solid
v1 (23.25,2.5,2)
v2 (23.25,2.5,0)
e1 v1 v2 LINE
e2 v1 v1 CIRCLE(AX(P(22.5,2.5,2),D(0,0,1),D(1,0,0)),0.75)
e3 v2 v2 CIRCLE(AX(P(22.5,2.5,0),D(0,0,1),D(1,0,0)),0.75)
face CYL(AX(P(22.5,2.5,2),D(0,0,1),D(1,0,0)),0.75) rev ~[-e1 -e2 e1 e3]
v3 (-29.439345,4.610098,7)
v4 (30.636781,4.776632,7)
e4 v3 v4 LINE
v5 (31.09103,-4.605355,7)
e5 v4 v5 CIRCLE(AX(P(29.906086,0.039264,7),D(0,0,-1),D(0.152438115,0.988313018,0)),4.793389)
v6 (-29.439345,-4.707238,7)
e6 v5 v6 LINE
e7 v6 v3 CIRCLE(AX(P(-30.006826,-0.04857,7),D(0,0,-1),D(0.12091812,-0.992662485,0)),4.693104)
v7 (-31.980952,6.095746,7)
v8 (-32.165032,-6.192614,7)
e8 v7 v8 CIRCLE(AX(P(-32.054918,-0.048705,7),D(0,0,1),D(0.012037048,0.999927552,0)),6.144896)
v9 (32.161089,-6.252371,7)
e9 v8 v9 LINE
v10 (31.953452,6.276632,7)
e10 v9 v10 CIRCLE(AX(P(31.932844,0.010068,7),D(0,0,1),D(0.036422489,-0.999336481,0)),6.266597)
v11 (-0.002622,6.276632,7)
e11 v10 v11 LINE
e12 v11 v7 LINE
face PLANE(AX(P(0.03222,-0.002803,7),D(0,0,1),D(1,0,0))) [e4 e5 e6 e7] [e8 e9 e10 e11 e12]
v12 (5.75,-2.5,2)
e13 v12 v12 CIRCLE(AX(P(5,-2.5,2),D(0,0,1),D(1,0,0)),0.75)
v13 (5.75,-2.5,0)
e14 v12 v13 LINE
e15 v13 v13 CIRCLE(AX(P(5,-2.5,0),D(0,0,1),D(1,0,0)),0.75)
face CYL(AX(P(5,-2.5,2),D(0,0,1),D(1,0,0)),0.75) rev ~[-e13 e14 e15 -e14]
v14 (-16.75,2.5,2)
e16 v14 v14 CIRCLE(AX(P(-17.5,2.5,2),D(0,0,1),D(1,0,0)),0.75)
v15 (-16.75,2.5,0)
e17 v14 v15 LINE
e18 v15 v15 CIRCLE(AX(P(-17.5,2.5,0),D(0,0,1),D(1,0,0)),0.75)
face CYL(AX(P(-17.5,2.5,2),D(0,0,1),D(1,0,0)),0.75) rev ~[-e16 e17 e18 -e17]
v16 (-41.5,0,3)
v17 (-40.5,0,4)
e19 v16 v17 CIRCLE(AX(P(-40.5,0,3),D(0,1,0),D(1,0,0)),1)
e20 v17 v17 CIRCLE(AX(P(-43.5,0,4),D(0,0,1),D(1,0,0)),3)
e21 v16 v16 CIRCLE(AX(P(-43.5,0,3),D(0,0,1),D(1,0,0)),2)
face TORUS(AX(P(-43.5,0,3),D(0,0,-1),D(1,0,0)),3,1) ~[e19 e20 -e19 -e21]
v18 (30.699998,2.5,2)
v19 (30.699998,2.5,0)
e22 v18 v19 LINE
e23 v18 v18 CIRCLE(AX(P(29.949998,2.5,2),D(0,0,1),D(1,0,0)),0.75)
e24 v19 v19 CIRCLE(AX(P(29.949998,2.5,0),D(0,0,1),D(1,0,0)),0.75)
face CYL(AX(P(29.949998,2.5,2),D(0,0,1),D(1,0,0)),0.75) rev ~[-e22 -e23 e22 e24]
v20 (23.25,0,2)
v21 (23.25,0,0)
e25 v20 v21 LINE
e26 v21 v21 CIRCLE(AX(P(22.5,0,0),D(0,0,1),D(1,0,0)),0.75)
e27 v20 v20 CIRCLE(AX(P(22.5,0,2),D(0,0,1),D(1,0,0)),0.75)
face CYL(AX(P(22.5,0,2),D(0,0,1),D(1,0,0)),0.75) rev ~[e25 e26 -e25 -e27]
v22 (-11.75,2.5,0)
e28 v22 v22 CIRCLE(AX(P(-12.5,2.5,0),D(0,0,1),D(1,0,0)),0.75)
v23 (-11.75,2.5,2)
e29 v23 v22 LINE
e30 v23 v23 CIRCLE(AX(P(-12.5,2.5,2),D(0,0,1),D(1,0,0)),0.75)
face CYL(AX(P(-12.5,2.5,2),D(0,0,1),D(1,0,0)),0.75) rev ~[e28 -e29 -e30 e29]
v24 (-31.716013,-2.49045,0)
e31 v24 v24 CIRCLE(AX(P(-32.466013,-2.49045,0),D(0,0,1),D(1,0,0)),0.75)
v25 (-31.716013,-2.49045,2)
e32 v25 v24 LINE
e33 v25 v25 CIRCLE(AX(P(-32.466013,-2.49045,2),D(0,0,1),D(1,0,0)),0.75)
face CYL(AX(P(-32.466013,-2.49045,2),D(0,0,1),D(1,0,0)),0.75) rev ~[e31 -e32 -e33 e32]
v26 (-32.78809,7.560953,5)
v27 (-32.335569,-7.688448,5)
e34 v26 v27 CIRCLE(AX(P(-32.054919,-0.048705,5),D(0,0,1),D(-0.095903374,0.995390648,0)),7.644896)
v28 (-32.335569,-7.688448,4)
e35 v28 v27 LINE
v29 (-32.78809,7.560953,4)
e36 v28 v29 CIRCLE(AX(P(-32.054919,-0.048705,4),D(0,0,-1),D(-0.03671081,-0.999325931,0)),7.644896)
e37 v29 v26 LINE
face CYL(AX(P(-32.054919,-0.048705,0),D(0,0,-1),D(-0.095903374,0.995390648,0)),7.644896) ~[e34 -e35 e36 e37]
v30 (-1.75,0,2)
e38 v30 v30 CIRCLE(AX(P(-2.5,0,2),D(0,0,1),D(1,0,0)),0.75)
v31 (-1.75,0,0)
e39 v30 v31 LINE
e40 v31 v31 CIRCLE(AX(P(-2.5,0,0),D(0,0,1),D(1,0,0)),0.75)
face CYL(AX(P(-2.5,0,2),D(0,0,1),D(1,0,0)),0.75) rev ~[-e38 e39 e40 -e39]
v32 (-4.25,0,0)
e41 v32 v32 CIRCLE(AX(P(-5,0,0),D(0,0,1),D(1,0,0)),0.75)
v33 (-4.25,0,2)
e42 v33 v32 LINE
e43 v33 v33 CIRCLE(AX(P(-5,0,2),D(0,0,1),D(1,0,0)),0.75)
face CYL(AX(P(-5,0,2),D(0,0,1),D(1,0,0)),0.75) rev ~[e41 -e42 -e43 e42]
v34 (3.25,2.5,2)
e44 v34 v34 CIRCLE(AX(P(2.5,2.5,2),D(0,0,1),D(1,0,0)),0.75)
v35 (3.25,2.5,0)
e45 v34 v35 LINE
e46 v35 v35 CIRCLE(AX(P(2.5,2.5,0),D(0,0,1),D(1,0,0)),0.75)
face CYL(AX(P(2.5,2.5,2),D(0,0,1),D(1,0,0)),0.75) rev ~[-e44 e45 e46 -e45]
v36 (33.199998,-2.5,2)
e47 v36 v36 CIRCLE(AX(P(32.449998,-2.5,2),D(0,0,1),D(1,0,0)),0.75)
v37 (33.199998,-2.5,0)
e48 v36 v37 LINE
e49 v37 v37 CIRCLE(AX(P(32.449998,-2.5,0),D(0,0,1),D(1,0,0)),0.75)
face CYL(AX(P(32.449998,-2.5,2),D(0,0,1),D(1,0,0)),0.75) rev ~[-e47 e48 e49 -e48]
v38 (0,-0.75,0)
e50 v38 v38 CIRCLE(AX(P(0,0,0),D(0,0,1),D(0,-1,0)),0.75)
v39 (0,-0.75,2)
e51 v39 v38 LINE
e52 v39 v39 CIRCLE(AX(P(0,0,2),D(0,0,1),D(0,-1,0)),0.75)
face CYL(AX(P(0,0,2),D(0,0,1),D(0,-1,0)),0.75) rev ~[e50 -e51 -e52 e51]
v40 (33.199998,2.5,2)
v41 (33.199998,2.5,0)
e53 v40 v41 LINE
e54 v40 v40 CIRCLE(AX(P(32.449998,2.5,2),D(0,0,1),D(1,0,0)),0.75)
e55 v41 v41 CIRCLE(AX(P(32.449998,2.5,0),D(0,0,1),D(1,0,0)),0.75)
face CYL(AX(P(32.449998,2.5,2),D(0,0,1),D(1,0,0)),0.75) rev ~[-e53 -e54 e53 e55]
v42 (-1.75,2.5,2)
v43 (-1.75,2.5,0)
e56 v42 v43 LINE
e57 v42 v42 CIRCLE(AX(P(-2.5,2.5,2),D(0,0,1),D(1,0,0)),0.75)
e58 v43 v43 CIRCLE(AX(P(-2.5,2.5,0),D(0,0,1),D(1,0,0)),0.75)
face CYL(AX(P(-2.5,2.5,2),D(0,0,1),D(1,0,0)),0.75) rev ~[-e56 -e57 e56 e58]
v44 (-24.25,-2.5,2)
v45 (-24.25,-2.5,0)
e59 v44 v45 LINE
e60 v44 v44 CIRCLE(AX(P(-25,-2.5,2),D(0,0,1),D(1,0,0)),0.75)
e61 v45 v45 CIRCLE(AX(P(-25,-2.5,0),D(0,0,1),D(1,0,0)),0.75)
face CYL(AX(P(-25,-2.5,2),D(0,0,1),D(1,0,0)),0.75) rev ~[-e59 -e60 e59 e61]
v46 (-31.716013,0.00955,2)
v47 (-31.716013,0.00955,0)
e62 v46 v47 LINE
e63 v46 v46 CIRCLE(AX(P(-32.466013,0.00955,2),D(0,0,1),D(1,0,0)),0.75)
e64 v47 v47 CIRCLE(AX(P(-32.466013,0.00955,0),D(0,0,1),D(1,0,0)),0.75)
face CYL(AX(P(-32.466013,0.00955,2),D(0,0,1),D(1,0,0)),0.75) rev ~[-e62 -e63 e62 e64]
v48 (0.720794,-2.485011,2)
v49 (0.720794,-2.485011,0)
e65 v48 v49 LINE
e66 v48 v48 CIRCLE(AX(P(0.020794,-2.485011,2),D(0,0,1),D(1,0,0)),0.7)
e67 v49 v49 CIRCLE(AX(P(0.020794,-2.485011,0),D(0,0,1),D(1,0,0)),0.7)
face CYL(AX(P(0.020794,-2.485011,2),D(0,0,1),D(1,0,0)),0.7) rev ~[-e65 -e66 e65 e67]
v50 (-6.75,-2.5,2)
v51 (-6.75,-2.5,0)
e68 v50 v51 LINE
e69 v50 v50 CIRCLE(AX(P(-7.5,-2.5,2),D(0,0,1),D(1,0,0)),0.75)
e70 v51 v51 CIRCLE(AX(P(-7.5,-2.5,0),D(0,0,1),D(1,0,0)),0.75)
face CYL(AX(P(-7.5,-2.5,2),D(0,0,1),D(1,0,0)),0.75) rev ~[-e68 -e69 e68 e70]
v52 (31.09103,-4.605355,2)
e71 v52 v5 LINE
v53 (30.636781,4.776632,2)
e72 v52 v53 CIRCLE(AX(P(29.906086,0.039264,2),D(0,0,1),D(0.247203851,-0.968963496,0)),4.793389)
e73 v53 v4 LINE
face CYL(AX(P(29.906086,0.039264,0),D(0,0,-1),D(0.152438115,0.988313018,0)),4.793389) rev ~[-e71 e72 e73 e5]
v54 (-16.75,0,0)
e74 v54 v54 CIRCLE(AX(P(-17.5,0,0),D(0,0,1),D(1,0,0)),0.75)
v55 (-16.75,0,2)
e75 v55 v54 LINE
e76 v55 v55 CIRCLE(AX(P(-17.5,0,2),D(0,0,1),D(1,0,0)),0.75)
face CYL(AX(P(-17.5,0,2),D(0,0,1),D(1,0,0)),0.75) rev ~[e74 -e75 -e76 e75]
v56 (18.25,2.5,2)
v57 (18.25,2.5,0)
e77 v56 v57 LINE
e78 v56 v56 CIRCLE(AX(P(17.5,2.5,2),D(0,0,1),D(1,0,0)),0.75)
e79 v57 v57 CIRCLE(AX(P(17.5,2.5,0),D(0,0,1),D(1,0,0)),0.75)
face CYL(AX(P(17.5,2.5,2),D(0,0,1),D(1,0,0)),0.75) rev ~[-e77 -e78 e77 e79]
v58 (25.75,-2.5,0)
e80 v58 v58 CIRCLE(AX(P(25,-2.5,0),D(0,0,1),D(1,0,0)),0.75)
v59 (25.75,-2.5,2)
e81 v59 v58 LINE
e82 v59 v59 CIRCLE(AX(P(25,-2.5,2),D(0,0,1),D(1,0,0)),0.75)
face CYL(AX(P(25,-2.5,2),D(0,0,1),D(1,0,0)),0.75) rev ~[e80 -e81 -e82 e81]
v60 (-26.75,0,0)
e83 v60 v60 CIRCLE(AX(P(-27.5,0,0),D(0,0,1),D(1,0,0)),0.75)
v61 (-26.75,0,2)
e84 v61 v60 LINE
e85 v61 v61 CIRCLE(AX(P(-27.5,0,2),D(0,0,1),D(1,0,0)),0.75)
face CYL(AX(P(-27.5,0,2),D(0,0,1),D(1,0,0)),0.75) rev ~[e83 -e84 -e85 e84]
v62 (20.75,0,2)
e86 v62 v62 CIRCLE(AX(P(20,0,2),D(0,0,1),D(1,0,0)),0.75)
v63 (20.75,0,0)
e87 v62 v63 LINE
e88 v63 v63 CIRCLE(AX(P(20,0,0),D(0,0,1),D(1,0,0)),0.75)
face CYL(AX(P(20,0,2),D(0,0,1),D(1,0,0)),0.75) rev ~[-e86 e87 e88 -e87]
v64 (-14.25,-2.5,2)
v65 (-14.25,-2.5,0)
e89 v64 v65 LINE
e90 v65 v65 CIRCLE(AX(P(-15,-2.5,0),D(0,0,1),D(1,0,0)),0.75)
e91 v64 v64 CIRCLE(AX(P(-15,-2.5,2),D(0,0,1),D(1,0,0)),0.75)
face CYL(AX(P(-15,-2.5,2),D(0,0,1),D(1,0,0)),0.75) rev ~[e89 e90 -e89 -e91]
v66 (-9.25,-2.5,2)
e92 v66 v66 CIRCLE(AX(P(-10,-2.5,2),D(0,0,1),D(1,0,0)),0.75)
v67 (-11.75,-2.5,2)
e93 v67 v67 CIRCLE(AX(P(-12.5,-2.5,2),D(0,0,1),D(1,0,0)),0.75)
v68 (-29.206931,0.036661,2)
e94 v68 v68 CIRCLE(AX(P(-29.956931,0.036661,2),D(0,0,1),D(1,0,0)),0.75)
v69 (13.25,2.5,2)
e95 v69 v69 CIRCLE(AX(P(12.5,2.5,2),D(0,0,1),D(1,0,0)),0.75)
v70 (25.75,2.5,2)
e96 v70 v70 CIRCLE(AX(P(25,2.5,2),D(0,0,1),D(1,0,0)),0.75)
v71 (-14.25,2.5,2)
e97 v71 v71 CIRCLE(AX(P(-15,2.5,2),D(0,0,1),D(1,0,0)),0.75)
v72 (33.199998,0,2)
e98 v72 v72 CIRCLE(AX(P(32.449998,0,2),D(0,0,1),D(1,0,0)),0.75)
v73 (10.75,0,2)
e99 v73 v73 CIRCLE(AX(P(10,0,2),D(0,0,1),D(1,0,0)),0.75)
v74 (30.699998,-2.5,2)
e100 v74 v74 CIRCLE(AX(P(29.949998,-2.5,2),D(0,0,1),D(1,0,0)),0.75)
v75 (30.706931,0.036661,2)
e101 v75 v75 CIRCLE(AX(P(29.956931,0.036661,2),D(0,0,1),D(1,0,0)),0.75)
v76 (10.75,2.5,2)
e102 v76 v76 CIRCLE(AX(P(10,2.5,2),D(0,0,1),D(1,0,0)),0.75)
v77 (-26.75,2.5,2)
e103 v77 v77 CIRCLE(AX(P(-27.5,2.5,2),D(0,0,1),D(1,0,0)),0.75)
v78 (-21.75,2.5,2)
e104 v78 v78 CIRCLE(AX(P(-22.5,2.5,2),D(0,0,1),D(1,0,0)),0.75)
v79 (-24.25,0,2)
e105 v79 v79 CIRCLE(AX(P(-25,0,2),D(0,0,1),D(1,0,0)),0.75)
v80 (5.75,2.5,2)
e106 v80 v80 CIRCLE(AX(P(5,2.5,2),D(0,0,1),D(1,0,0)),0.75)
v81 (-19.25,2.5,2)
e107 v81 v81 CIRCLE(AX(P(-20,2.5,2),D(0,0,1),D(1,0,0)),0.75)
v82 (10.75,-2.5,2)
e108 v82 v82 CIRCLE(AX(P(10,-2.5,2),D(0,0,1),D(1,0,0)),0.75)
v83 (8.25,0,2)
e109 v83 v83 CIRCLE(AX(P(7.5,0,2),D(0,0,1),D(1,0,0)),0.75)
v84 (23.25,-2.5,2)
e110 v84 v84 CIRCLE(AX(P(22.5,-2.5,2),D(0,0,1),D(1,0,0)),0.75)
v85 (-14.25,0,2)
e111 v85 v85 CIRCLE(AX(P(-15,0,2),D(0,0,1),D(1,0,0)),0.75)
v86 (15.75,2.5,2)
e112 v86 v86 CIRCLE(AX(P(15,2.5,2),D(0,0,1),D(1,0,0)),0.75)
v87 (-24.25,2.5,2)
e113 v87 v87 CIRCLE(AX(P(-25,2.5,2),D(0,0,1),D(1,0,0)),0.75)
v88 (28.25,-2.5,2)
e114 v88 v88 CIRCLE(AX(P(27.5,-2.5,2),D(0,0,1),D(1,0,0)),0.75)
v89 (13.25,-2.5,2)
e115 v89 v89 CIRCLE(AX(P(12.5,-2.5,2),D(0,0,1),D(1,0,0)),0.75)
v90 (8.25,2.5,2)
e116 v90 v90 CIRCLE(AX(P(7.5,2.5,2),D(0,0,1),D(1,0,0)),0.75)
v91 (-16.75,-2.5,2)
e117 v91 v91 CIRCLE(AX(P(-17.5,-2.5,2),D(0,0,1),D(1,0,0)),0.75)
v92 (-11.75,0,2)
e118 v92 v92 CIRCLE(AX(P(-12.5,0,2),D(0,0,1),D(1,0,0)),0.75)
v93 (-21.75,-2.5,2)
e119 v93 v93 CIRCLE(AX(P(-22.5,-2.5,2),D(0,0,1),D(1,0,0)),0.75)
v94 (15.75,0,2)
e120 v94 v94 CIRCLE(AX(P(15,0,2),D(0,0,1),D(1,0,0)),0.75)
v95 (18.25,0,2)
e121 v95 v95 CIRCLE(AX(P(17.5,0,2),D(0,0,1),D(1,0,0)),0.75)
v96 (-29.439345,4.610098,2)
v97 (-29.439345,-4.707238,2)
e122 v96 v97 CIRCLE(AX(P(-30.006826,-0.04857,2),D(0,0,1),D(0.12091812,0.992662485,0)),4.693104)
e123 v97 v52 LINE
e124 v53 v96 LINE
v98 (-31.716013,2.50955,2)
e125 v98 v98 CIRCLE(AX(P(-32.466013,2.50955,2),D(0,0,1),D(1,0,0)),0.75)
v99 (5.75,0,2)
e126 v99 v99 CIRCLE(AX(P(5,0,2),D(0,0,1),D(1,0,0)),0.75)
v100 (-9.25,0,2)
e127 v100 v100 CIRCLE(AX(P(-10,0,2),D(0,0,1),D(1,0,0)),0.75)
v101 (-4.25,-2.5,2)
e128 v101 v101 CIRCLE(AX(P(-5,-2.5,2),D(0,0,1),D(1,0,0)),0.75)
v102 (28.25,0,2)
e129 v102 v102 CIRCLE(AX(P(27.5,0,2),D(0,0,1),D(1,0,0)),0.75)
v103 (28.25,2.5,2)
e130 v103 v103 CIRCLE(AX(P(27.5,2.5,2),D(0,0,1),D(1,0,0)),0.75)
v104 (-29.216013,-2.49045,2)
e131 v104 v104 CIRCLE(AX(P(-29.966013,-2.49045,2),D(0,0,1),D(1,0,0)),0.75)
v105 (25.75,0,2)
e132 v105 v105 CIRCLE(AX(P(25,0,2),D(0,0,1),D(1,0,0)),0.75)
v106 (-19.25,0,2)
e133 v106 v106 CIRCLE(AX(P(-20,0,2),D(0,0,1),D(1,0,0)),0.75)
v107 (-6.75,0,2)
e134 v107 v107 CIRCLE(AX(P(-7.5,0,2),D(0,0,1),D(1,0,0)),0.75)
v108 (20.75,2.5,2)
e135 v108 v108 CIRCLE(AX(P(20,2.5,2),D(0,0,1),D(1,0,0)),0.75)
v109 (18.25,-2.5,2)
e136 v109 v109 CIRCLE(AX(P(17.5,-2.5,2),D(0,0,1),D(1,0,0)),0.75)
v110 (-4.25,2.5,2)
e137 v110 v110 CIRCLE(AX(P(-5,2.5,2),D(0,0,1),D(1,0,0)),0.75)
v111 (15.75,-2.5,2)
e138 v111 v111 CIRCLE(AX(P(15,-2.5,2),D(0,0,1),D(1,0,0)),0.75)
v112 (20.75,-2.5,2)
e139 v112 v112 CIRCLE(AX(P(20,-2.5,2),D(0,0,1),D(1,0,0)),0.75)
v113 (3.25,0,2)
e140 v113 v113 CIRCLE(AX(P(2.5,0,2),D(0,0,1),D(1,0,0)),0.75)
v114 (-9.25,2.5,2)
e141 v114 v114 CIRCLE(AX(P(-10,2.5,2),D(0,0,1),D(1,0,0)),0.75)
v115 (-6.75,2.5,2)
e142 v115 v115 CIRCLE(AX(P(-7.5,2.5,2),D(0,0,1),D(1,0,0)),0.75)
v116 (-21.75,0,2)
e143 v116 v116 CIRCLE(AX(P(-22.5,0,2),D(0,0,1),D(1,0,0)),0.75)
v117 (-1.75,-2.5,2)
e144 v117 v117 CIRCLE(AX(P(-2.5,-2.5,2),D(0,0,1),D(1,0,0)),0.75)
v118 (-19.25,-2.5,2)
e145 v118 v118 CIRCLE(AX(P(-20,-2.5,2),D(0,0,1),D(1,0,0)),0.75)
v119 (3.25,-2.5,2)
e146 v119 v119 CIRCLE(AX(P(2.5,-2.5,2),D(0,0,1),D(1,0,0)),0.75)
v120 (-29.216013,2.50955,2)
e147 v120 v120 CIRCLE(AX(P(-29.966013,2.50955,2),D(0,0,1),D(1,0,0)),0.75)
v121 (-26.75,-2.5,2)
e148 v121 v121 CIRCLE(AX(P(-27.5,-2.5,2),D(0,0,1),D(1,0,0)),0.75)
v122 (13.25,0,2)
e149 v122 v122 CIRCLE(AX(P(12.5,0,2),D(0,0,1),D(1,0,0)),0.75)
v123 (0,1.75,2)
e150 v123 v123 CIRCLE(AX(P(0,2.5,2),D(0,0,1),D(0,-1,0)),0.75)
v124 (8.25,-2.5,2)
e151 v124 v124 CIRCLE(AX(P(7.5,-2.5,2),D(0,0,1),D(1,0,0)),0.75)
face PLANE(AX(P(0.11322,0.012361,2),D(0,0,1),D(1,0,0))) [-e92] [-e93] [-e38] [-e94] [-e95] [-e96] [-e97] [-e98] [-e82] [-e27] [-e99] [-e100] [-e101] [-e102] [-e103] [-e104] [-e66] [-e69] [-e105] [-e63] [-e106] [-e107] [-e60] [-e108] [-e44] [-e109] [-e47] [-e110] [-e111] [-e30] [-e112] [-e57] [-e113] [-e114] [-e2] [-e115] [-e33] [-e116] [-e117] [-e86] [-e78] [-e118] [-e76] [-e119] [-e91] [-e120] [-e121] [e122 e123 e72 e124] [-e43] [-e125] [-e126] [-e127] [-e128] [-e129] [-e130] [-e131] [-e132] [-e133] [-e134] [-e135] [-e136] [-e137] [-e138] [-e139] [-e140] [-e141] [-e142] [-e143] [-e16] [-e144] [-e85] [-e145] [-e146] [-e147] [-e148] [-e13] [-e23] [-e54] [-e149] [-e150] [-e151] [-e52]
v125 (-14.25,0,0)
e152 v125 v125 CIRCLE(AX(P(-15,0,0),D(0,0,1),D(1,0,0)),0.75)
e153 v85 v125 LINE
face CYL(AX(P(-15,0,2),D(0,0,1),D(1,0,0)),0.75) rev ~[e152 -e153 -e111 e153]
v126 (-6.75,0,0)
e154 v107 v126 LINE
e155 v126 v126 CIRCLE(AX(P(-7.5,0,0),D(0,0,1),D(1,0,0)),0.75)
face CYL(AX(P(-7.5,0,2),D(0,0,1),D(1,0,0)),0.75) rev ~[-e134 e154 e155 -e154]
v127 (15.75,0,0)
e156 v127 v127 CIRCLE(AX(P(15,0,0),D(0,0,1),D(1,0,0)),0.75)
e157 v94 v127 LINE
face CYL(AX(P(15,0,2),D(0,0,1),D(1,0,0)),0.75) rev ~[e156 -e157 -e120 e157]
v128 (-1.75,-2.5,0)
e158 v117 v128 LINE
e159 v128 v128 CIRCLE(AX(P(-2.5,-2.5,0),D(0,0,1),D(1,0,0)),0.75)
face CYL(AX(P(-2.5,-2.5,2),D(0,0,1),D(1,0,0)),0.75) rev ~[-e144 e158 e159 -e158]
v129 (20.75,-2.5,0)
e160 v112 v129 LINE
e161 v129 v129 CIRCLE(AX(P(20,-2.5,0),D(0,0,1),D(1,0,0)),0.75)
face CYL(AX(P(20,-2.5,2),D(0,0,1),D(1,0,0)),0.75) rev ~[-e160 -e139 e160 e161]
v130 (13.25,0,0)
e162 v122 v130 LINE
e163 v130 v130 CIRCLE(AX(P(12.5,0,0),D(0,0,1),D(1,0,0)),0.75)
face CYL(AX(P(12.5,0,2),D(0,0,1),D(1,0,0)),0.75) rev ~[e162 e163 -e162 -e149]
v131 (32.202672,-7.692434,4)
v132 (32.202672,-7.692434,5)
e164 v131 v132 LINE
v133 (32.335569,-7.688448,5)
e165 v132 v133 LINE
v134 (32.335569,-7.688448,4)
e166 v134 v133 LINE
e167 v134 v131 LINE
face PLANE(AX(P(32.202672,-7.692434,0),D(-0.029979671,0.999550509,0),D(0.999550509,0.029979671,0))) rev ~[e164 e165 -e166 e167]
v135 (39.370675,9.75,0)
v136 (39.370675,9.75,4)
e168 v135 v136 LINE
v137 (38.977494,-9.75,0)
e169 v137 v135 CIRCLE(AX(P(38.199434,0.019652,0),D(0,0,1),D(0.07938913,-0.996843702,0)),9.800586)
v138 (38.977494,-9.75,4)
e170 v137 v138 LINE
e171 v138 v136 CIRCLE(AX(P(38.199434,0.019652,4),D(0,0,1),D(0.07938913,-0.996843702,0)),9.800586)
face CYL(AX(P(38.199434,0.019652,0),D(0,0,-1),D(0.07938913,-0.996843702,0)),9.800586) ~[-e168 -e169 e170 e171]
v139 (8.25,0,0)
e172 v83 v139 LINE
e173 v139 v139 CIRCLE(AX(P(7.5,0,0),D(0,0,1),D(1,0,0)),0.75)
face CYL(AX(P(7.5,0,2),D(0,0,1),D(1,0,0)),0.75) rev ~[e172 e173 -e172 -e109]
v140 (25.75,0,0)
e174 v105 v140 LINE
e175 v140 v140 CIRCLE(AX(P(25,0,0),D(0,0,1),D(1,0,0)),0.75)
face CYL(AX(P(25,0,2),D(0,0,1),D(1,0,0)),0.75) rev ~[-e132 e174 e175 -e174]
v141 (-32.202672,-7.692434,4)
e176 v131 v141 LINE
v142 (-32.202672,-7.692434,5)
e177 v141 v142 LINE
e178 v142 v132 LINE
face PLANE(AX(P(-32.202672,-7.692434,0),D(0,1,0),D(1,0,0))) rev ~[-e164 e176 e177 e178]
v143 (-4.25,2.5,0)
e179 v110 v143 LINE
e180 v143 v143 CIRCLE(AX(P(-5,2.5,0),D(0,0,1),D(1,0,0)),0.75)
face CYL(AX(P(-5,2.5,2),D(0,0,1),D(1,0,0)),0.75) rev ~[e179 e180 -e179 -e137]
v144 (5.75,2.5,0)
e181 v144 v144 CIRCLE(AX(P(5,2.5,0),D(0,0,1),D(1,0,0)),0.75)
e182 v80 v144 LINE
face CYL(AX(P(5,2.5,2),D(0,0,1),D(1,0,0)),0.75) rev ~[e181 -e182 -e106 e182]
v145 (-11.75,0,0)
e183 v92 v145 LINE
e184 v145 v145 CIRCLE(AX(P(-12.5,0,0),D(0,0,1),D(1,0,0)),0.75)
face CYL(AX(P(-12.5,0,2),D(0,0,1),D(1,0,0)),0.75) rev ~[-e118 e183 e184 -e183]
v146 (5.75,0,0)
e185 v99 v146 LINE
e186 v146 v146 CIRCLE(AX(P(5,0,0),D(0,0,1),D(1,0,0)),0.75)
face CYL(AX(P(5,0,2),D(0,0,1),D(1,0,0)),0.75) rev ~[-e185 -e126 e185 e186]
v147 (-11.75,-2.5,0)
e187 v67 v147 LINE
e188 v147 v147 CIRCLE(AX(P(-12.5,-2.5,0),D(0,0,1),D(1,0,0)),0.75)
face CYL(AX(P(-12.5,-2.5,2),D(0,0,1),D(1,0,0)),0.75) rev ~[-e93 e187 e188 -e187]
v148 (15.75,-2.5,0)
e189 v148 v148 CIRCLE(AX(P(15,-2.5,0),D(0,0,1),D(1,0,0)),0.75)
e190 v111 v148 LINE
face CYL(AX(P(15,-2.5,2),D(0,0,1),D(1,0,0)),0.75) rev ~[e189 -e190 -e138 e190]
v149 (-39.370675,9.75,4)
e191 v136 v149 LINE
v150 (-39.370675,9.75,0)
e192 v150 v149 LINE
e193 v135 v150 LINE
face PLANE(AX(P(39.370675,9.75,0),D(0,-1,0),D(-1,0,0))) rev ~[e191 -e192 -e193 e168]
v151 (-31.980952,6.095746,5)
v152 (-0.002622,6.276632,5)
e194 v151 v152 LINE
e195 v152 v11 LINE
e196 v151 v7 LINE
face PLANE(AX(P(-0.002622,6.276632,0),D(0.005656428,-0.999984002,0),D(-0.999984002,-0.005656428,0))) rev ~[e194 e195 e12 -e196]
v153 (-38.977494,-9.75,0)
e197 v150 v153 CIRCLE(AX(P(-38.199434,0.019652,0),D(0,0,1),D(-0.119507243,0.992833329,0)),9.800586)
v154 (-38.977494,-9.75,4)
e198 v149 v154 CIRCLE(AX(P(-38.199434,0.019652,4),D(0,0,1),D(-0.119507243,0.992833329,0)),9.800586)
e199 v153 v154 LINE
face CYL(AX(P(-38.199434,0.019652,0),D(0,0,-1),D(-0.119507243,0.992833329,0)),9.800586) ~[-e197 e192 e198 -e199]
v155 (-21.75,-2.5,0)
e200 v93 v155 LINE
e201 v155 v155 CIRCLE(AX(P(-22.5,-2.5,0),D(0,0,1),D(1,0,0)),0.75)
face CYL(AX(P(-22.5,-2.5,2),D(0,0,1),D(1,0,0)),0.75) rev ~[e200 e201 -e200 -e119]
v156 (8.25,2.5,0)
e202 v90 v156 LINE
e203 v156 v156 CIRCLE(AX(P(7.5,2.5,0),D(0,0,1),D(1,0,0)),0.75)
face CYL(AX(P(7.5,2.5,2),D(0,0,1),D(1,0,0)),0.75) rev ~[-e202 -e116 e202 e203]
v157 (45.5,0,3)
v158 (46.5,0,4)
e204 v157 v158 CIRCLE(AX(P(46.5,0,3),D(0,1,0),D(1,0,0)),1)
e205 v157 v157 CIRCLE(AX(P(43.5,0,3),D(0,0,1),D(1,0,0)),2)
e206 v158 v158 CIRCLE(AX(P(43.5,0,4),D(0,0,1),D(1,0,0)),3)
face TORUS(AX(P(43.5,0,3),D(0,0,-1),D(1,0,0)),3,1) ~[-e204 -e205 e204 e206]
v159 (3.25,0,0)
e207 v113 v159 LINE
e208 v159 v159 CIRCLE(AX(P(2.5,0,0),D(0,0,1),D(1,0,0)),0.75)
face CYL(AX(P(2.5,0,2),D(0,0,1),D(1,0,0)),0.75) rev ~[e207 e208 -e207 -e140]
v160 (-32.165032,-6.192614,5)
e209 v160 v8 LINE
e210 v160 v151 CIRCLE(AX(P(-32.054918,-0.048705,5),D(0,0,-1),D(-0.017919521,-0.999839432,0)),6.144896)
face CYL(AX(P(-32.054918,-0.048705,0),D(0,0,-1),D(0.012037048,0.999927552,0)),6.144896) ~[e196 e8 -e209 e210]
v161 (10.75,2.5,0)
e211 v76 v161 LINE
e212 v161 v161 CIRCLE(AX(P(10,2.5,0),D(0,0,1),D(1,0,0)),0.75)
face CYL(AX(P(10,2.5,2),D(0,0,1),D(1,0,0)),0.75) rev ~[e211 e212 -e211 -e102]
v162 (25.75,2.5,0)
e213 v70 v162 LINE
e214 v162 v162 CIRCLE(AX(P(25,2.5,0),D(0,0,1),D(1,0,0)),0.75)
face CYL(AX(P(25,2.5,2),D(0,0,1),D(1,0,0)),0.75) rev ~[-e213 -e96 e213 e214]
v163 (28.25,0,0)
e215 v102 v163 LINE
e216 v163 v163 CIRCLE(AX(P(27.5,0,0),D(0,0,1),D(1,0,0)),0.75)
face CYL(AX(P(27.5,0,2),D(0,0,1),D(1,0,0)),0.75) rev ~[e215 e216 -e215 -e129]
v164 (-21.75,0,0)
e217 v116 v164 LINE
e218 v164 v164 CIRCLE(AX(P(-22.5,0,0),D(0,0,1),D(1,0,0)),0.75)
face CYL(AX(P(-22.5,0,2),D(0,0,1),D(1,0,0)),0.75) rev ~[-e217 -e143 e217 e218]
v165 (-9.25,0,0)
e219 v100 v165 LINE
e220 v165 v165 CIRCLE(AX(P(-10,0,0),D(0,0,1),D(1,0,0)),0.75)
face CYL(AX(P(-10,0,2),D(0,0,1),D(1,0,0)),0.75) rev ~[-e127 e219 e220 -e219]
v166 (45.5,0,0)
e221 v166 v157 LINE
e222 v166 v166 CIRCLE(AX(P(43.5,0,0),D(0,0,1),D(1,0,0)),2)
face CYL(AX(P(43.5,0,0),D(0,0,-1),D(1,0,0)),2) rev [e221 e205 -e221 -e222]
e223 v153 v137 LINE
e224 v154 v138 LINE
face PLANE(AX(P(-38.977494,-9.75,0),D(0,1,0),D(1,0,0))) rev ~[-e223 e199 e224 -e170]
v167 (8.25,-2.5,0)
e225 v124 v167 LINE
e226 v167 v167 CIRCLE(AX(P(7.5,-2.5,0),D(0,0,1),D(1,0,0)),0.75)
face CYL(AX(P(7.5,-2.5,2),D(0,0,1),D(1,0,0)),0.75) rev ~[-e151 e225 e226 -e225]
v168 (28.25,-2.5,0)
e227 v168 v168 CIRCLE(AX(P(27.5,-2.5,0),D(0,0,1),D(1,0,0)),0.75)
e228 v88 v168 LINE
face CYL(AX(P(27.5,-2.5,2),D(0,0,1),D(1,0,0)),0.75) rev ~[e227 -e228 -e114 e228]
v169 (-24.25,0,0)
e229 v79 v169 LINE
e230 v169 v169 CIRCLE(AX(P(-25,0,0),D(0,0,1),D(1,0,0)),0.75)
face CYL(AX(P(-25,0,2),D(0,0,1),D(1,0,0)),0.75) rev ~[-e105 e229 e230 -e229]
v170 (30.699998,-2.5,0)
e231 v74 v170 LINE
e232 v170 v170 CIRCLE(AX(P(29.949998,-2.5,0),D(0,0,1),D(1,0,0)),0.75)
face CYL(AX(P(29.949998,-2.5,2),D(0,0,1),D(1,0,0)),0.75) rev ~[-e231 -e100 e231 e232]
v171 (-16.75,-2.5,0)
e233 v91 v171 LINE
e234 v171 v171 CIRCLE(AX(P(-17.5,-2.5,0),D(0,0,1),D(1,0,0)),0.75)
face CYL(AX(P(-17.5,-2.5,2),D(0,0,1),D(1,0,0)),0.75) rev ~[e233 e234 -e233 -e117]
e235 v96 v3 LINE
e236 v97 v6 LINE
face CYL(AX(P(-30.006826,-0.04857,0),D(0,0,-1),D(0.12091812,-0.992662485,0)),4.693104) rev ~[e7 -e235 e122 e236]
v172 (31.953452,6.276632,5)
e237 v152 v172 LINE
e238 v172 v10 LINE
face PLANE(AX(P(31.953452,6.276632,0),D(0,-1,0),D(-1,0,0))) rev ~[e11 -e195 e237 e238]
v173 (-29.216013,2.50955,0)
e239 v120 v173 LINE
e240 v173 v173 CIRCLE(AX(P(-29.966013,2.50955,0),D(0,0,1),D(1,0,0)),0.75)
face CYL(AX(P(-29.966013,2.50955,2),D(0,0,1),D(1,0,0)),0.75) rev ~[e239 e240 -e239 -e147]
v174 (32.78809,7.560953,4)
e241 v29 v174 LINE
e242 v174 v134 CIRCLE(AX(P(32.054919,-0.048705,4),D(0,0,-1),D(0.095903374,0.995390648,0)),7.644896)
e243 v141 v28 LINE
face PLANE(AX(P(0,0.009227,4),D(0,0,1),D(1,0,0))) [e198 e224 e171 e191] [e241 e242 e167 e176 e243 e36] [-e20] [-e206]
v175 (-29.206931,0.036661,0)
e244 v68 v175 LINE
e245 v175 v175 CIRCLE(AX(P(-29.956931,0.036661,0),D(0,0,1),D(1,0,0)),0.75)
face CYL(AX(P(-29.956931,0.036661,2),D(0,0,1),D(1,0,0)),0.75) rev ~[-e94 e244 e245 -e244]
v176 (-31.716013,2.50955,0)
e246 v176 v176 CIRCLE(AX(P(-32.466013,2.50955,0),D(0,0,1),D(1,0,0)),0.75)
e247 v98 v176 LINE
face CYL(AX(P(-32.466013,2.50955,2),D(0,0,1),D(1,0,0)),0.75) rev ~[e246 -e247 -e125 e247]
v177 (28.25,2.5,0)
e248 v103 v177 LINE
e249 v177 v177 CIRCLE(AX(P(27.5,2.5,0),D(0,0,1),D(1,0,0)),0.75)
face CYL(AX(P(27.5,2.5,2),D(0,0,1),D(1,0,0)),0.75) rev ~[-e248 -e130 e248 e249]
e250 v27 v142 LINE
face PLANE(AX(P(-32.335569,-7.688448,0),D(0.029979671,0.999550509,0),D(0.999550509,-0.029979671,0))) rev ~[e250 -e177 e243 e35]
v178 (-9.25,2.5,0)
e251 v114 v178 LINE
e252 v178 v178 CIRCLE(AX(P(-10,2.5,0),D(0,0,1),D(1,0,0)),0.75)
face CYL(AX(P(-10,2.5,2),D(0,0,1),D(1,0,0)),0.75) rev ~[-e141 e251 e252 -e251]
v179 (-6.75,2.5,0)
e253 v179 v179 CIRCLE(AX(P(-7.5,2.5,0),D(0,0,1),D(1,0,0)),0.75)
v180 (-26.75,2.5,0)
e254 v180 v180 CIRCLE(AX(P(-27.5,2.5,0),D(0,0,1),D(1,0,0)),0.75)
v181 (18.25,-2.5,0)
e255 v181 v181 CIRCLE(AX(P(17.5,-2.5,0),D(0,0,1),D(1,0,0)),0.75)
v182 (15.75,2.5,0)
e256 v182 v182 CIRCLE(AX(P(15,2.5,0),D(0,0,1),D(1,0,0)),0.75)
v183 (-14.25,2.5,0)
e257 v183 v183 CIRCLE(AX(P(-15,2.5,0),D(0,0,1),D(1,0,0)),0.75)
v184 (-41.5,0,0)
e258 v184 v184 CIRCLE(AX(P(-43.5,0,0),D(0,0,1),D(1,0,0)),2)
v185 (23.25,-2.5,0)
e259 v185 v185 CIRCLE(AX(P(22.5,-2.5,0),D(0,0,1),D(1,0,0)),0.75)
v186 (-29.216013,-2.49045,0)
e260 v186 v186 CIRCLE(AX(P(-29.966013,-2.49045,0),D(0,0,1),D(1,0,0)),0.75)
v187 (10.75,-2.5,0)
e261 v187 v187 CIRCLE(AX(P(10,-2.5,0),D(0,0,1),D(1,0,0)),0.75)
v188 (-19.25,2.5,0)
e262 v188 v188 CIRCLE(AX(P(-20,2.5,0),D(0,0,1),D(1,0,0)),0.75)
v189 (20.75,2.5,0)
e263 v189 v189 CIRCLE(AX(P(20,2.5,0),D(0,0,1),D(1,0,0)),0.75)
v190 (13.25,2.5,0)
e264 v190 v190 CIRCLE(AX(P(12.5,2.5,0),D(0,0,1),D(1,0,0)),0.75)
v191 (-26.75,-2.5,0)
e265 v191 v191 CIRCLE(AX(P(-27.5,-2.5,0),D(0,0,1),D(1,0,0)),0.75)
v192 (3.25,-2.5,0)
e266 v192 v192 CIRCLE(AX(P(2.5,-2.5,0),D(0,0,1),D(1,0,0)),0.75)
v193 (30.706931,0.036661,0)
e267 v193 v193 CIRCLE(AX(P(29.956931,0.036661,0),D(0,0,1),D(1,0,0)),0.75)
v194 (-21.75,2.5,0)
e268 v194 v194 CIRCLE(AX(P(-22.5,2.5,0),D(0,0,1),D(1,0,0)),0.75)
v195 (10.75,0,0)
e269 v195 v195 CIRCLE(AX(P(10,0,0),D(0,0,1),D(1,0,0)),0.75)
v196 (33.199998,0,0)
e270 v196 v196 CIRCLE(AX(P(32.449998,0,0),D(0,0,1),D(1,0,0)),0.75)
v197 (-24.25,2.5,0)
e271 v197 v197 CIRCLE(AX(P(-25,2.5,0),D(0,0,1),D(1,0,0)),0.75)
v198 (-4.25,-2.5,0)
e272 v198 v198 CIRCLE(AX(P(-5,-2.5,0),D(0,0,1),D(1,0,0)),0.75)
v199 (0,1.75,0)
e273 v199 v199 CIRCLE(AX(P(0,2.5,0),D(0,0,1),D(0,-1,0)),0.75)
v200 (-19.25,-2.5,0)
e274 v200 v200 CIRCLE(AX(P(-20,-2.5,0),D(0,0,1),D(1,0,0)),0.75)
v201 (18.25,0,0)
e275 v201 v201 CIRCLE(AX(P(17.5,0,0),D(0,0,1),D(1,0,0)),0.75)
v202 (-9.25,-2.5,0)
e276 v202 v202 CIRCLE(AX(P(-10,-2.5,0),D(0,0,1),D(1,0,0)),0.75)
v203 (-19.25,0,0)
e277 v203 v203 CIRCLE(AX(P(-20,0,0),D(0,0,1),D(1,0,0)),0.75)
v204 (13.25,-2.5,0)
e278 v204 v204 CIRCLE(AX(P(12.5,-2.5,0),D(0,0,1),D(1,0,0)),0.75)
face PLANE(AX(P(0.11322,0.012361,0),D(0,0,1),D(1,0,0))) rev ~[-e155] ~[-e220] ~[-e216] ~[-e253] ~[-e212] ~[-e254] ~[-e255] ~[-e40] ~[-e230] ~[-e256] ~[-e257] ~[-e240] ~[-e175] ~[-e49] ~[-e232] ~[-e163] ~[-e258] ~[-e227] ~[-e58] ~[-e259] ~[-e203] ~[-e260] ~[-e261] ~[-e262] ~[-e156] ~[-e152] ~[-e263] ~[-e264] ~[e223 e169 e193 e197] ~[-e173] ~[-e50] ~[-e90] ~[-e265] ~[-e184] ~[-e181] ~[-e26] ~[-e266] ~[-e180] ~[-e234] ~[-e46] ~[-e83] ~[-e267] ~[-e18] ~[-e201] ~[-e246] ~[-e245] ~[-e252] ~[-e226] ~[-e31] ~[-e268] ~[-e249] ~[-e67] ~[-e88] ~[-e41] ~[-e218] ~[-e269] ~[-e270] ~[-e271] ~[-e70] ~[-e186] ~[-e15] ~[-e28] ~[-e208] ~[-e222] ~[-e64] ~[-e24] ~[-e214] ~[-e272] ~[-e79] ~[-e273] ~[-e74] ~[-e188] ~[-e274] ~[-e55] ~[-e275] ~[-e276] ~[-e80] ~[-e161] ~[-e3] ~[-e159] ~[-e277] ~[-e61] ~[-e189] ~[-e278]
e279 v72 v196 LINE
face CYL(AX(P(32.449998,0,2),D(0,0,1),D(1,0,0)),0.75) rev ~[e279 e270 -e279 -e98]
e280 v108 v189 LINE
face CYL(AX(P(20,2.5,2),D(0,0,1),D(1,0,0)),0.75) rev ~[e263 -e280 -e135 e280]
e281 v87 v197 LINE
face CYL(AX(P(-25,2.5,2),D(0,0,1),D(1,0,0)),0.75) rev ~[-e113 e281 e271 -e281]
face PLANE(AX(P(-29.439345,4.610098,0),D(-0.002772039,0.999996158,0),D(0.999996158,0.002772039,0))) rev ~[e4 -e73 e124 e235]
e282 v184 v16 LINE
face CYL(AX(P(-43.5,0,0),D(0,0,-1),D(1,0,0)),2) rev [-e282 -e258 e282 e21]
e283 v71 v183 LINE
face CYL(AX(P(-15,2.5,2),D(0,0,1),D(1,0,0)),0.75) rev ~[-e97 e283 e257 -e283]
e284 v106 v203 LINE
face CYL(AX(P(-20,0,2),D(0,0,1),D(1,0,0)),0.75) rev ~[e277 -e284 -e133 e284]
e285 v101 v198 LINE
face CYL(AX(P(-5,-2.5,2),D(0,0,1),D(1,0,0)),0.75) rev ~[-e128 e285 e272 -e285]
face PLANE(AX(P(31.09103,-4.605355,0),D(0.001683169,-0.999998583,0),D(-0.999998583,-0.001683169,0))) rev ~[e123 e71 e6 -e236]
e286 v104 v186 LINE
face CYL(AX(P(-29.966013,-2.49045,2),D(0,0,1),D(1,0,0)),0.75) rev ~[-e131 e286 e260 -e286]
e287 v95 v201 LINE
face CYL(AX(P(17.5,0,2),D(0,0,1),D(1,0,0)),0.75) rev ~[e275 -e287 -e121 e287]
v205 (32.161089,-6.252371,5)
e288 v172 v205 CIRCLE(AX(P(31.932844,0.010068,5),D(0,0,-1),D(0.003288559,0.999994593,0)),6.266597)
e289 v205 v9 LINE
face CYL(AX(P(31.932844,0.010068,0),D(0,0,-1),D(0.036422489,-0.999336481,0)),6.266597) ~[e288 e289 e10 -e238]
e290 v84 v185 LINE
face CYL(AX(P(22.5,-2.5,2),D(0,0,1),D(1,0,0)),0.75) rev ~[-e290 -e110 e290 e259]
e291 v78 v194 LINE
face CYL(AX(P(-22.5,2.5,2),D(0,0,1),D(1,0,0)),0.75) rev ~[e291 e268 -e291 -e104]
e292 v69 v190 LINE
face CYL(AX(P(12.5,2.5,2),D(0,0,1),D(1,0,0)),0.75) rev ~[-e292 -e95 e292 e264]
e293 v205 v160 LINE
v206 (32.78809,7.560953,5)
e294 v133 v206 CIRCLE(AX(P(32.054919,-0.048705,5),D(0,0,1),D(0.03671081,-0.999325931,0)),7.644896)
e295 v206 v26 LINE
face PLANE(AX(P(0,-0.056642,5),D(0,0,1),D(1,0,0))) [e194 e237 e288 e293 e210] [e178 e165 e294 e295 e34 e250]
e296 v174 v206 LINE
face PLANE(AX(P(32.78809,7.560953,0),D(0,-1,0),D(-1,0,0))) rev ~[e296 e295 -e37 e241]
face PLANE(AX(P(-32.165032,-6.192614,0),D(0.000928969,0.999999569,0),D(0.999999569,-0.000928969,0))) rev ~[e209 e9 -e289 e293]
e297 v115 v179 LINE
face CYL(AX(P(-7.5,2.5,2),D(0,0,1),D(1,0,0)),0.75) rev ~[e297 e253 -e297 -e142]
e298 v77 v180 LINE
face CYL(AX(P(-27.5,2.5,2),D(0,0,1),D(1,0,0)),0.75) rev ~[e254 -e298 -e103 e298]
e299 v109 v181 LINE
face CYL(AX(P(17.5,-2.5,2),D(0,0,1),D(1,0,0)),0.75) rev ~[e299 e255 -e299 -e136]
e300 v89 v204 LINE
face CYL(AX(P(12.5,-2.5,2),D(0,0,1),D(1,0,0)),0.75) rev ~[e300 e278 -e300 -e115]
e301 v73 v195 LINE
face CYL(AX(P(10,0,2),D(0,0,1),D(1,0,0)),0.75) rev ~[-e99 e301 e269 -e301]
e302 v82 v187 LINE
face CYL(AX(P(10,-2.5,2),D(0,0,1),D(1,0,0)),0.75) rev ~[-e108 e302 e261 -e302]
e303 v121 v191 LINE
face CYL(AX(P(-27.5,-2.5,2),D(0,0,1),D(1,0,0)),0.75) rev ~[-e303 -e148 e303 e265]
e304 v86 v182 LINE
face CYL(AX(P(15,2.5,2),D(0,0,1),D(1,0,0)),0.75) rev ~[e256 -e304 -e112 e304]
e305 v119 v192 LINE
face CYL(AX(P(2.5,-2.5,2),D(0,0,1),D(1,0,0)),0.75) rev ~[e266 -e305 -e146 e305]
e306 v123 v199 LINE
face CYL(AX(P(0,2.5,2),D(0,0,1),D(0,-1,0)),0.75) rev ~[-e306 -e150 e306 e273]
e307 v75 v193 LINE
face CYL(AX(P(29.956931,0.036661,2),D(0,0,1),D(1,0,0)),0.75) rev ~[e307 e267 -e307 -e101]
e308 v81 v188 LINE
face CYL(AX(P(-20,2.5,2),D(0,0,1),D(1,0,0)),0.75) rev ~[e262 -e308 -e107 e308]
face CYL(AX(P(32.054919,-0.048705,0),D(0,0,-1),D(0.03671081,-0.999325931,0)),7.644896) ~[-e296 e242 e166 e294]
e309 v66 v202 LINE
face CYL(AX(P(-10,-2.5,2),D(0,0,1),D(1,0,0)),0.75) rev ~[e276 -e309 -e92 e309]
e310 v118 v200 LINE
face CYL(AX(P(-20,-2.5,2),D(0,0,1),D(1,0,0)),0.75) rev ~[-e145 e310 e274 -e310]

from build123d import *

# Parameters (mm, degrees)
F0_R     = 2
F1_DEPTH = 4
F2_DEPTH = 5
F3_DEPTH = 7
F4_DEPTH = 2
F5_R     = 0.75
F5_R_2   = 0.7
F6_DEPTH = 25
F7_R     = 1


with BuildPart() as f1:
    # F0 (on Top) → F1 (new body)
    with BuildSketch(Plane.XY):
        with BuildLine():
            Line((-38.977494, -9.75), (0, -9.75))
            Line((0, -9.75), (38.977494, -9.75))
            ThreePointArc((38.977494, -9.75), (47.998028, -0.177918), (39.370675, 9.75))
            Line((39.370675, 9.75), (0, 9.75))
            Line((0, 9.75), (-39.370675, 9.75))
            ThreePointArc((-39.370675, 9.75), (-47.998028, -0.177918), (-38.977494, -9.75))
        make_face()
        with Locations((-43.5, 0)):
            Circle(F0_R, mode=Mode.SUBTRACT)
        with BuildLine():
            ThreePointArc((-32.335569, -7.688448), (-39.696451, -0.275465), (-32.78809, 7.560953))
            Line((-32.78809, 7.560953), (32.78809, 7.560953))
            ThreePointArc((32.78809, 7.560953), (39.696451, -0.275465), (32.335569, -7.688448))
            Line((32.335569, -7.688448), (32.202672, -7.692434))
            Line((32.202672, -7.692434), (-32.202672, -7.692434))
            Line((-32.202672, -7.692434), (-32.335569, -7.688448))
        make_face(mode=Mode.SUBTRACT)
        with Locations((43.5, 0)):
            Circle(F0_R, mode=Mode.SUBTRACT)
    extrude(amount=F1_DEPTH)

    # F0 (on Top) → F2 (join)
    with BuildSketch(Plane.XY):
        with BuildLine():
            Line((32.78809, 7.560953), (-32.78809, 7.560953))
            ThreePointArc((-32.78809, 7.560953), (-39.696451, -0.275465), (-32.335569, -7.688448))
            Line((-32.335569, -7.688448), (-32.202672, -7.692434))
            Line((-32.202672, -7.692434), (32.202672, -7.692434))
            Line((32.202672, -7.692434), (32.335569, -7.688448))
            ThreePointArc((32.335569, -7.688448), (39.696451, -0.275465), (32.78809, 7.560953))
        make_face()
        with BuildLine():
            Line((-31.980952, 6.095746), (-0.002622, 6.276632))
            Line((-0.002622, 6.276632), (31.953452, 6.276632))
            ThreePointArc((31.953452, 6.276632), (38.198581, 0.113907), (32.161089, -6.252371))
            Line((32.161089, -6.252371), (-32.165032, -6.192614))
            ThreePointArc((-32.165032, -6.192614), (-38.199125, 0.043335), (-31.980952, 6.095746))
        make_face(mode=Mode.SUBTRACT)
    extrude(amount=F2_DEPTH)

    # F0 (on Top) → F3 (join)
    with BuildSketch(Plane.XY):
        with BuildLine():
            Line((31.953452, 6.276632), (-0.002622, 6.276632))
            Line((-0.002622, 6.276632), (-31.980952, 6.095746))
            ThreePointArc((-31.980952, 6.095746), (-38.199125, 0.043335), (-32.165032, -6.192614))
            Line((-32.165032, -6.192614), (32.161089, -6.252371))
            ThreePointArc((32.161089, -6.252371), (38.198581, 0.113907), (31.953452, 6.276632))
        make_face()
        with BuildLine():
            ThreePointArc((-29.439345, -4.707238), (-34.69993, -0.04857), (-29.439345, 4.610098))
            Line((-29.439345, 4.610098), (30.636781, 4.776632))
            ThreePointArc((30.636781, 4.776632), (34.693866, 0.271074), (31.09103, -4.605355))
            Line((31.09103, -4.605355), (-29.439345, -4.707238))
        make_face(mode=Mode.SUBTRACT)
    extrude(amount=F3_DEPTH)

    # F0 (on Top) → F4 (join)
    with BuildSketch(Plane.XY):
        with BuildLine():
            Line((30.636781, 4.776632), (-29.439345, 4.610098))
            ThreePointArc((-29.439345, 4.610098), (-34.69993, -0.04857), (-29.439345, -4.707238))
            Line((-29.439345, -4.707238), (31.09103, -4.605355))
            ThreePointArc((31.09103, -4.605355), (34.693866, 0.271074), (30.636781, 4.776632))
        make_face()
    extrude(amount=F4_DEPTH)

    # F5 (on face) → F6 (cut)
    with BuildSketch(Plane.XY.offset(2)):
        with BuildLine():
            ThreePointArc((0, 0.75), (-0.75, 0), (0, -0.75))
            ThreePointArc((0, -0.75), (0.75, 0), (0, 0.75))
        make_face()
        with BuildLine():
            ThreePointArc((0, 3.25), (-0.75, 2.5), (0, 1.75))
            ThreePointArc((0, 1.75), (0.75, 2.5), (0, 3.25))
        make_face()
        with Locations((2.5, 0)):
            Circle(F5_R)
        with Locations((2.5, 2.5)):
            Circle(F5_R)
        with Locations((5, 0)):
            Circle(F5_R)
        with Locations((5, 2.5)):
            Circle(F5_R)
        with Locations((7.5, 0)):
            Circle(F5_R)
        with Locations((7.5, 2.5)):
            Circle(F5_R)
        with Locations((10, 0)):
            Circle(F5_R)
        with Locations((10, 2.5)):
            Circle(F5_R)
        with Locations((12.5, 0)):
            Circle(F5_R)
        with Locations((12.5, 2.5)):
            Circle(F5_R)
        with Locations((15, 0)):
            Circle(F5_R)
        with Locations((15, 2.5)):
            Circle(F5_R)
        with Locations((17.5, 0)):
            Circle(F5_R)
        with Locations((17.5, 2.5)):
            Circle(F5_R)
        with Locations((20, 0)):
            Circle(F5_R)
        with Locations((20, 2.5)):
            Circle(F5_R)
        with Locations((22.5, 0)):
            Circle(F5_R)
        with Locations((22.5, 2.5)):
            Circle(F5_R)
        with Locations((25, 0)):
            Circle(F5_R)
        with Locations((25, 2.5)):
            Circle(F5_R)
        with Locations((27.5, 0)):
            Circle(F5_R)
        with Locations((27.5, 2.5)):
            Circle(F5_R)
        with Locations((2.5, -2.5)):
            Circle(F5_R)
        with Locations((5, -2.5)):
            Circle(F5_R)
        with Locations((7.5, -2.5)):
            Circle(F5_R)
        with Locations((10, -2.5)):
            Circle(F5_R)
        with Locations((12.5, -2.5)):
            Circle(F5_R)
        with Locations((15, -2.5)):
            Circle(F5_R)
        with Locations((17.5, -2.5)):
            Circle(F5_R)
        with Locations((20, -2.5)):
            Circle(F5_R)
        with Locations((22.5, -2.5)):
            Circle(F5_R)
        with Locations((25, -2.5)):
            Circle(F5_R)
        with Locations((27.5, -2.5)):
            Circle(F5_R)
        with Locations((-12.5, 0)):
            Circle(F5_R)
        with Locations((-17.5, 0)):
            Circle(F5_R)
        with Locations((-7.5, 0)):
            Circle(F5_R)
        with Locations((-5, 0)):
            Circle(F5_R)
        with Locations((-15, 0)):
            Circle(F5_R)
        with Locations((-20, 0)):
            Circle(F5_R)
        with Locations((-10, 0)):
            Circle(F5_R)
        with Locations((-12.5, 2.5)):
            Circle(F5_R)
        with Locations((-10, 2.5)):
            Circle(F5_R)
        with Locations((-7.5, 2.5)):
            Circle(F5_R)
        with Locations((-5, 2.5)):
            Circle(F5_R)
        with Locations((-2.5, 0)):
            Circle(F5_R)
        with Locations((-2.5, 2.5)):
            Circle(F5_R)
        with Locations((-17.5, 2.5)):
            Circle(F5_R)
        with Locations((-15, 2.5)):
            Circle(F5_R)
        with Locations((-20, 2.5)):
            Circle(F5_R)
        with Locations((-27.5, 0)):
            Circle(F5_R)
        with Locations((-22.5, 0)):
            Circle(F5_R)
        with Locations((-25, 0)):
            Circle(F5_R)
        with Locations((-27.5, -2.5)):
            Circle(F5_R)
        with Locations((-25, 2.5)):
            Circle(F5_R)
        with Locations((-22.5, 2.5)):
            Circle(F5_R)
        with Locations((-17.5, -2.5)):
            Circle(F5_R)
        with Locations((-27.5, 2.5)):
            Circle(F5_R)
        with Locations((-20, -2.5)):
            Circle(F5_R)
        with Locations((-22.5, -2.5)):
            Circle(F5_R)
        with Locations((-25, -2.5)):
            Circle(F5_R)
        with Locations((-2.5, -2.5)):
            Circle(F5_R)
        with Locations((-5, -2.5)):
            Circle(F5_R)
        with Locations((-7.5, -2.5)):
            Circle(F5_R)
        with Locations((-10, -2.5)):
            Circle(F5_R)
        with Locations((-12.5, -2.5)):
            Circle(F5_R)
        with Locations((-15, -2.5)):
            Circle(F5_R)
        with Locations((0.020794, -2.485011)):
            Circle(F5_R_2)
        with Locations((-29.956931, 0.036661)):
            Circle(F5_R)
        with Locations((29.956931, 0.036661)):
            Circle(F5_R)
        with Locations((29.949998, 2.5)):
            Circle(F5_R)
        with Locations((32.449998, 2.5)):
            Circle(F5_R)
        with Locations((29.949998, -2.5)):
            Circle(F5_R)
        with Locations((32.449998, 0)):
            Circle(F5_R)
        with Locations((32.449998, -2.5)):
            Circle(F5_R)
        with Locations((-32.466013, 0.00955)):
            Circle(F5_R)
        with Locations((-32.466013, -2.49045)):
            Circle(F5_R)
        with Locations((-29.966013, 2.50955)):
            Circle(F5_R)
        with Locations((-32.466013, 2.50955)):
            Circle(F5_R)
        with Locations((-29.966013, -2.49045)):
            Circle(F5_R)
    extrude(amount=-F6_DEPTH, mode=Mode.SUBTRACT)

    # F7
    f7_edges = [f1.edges().sort_by_distance(p)[0] for p in [
        (-45.5, 0, 4),
        (41.5, 0, 4),
    ]]
    fillet(f7_edges, radius=F7_R)


solid = f1.part
